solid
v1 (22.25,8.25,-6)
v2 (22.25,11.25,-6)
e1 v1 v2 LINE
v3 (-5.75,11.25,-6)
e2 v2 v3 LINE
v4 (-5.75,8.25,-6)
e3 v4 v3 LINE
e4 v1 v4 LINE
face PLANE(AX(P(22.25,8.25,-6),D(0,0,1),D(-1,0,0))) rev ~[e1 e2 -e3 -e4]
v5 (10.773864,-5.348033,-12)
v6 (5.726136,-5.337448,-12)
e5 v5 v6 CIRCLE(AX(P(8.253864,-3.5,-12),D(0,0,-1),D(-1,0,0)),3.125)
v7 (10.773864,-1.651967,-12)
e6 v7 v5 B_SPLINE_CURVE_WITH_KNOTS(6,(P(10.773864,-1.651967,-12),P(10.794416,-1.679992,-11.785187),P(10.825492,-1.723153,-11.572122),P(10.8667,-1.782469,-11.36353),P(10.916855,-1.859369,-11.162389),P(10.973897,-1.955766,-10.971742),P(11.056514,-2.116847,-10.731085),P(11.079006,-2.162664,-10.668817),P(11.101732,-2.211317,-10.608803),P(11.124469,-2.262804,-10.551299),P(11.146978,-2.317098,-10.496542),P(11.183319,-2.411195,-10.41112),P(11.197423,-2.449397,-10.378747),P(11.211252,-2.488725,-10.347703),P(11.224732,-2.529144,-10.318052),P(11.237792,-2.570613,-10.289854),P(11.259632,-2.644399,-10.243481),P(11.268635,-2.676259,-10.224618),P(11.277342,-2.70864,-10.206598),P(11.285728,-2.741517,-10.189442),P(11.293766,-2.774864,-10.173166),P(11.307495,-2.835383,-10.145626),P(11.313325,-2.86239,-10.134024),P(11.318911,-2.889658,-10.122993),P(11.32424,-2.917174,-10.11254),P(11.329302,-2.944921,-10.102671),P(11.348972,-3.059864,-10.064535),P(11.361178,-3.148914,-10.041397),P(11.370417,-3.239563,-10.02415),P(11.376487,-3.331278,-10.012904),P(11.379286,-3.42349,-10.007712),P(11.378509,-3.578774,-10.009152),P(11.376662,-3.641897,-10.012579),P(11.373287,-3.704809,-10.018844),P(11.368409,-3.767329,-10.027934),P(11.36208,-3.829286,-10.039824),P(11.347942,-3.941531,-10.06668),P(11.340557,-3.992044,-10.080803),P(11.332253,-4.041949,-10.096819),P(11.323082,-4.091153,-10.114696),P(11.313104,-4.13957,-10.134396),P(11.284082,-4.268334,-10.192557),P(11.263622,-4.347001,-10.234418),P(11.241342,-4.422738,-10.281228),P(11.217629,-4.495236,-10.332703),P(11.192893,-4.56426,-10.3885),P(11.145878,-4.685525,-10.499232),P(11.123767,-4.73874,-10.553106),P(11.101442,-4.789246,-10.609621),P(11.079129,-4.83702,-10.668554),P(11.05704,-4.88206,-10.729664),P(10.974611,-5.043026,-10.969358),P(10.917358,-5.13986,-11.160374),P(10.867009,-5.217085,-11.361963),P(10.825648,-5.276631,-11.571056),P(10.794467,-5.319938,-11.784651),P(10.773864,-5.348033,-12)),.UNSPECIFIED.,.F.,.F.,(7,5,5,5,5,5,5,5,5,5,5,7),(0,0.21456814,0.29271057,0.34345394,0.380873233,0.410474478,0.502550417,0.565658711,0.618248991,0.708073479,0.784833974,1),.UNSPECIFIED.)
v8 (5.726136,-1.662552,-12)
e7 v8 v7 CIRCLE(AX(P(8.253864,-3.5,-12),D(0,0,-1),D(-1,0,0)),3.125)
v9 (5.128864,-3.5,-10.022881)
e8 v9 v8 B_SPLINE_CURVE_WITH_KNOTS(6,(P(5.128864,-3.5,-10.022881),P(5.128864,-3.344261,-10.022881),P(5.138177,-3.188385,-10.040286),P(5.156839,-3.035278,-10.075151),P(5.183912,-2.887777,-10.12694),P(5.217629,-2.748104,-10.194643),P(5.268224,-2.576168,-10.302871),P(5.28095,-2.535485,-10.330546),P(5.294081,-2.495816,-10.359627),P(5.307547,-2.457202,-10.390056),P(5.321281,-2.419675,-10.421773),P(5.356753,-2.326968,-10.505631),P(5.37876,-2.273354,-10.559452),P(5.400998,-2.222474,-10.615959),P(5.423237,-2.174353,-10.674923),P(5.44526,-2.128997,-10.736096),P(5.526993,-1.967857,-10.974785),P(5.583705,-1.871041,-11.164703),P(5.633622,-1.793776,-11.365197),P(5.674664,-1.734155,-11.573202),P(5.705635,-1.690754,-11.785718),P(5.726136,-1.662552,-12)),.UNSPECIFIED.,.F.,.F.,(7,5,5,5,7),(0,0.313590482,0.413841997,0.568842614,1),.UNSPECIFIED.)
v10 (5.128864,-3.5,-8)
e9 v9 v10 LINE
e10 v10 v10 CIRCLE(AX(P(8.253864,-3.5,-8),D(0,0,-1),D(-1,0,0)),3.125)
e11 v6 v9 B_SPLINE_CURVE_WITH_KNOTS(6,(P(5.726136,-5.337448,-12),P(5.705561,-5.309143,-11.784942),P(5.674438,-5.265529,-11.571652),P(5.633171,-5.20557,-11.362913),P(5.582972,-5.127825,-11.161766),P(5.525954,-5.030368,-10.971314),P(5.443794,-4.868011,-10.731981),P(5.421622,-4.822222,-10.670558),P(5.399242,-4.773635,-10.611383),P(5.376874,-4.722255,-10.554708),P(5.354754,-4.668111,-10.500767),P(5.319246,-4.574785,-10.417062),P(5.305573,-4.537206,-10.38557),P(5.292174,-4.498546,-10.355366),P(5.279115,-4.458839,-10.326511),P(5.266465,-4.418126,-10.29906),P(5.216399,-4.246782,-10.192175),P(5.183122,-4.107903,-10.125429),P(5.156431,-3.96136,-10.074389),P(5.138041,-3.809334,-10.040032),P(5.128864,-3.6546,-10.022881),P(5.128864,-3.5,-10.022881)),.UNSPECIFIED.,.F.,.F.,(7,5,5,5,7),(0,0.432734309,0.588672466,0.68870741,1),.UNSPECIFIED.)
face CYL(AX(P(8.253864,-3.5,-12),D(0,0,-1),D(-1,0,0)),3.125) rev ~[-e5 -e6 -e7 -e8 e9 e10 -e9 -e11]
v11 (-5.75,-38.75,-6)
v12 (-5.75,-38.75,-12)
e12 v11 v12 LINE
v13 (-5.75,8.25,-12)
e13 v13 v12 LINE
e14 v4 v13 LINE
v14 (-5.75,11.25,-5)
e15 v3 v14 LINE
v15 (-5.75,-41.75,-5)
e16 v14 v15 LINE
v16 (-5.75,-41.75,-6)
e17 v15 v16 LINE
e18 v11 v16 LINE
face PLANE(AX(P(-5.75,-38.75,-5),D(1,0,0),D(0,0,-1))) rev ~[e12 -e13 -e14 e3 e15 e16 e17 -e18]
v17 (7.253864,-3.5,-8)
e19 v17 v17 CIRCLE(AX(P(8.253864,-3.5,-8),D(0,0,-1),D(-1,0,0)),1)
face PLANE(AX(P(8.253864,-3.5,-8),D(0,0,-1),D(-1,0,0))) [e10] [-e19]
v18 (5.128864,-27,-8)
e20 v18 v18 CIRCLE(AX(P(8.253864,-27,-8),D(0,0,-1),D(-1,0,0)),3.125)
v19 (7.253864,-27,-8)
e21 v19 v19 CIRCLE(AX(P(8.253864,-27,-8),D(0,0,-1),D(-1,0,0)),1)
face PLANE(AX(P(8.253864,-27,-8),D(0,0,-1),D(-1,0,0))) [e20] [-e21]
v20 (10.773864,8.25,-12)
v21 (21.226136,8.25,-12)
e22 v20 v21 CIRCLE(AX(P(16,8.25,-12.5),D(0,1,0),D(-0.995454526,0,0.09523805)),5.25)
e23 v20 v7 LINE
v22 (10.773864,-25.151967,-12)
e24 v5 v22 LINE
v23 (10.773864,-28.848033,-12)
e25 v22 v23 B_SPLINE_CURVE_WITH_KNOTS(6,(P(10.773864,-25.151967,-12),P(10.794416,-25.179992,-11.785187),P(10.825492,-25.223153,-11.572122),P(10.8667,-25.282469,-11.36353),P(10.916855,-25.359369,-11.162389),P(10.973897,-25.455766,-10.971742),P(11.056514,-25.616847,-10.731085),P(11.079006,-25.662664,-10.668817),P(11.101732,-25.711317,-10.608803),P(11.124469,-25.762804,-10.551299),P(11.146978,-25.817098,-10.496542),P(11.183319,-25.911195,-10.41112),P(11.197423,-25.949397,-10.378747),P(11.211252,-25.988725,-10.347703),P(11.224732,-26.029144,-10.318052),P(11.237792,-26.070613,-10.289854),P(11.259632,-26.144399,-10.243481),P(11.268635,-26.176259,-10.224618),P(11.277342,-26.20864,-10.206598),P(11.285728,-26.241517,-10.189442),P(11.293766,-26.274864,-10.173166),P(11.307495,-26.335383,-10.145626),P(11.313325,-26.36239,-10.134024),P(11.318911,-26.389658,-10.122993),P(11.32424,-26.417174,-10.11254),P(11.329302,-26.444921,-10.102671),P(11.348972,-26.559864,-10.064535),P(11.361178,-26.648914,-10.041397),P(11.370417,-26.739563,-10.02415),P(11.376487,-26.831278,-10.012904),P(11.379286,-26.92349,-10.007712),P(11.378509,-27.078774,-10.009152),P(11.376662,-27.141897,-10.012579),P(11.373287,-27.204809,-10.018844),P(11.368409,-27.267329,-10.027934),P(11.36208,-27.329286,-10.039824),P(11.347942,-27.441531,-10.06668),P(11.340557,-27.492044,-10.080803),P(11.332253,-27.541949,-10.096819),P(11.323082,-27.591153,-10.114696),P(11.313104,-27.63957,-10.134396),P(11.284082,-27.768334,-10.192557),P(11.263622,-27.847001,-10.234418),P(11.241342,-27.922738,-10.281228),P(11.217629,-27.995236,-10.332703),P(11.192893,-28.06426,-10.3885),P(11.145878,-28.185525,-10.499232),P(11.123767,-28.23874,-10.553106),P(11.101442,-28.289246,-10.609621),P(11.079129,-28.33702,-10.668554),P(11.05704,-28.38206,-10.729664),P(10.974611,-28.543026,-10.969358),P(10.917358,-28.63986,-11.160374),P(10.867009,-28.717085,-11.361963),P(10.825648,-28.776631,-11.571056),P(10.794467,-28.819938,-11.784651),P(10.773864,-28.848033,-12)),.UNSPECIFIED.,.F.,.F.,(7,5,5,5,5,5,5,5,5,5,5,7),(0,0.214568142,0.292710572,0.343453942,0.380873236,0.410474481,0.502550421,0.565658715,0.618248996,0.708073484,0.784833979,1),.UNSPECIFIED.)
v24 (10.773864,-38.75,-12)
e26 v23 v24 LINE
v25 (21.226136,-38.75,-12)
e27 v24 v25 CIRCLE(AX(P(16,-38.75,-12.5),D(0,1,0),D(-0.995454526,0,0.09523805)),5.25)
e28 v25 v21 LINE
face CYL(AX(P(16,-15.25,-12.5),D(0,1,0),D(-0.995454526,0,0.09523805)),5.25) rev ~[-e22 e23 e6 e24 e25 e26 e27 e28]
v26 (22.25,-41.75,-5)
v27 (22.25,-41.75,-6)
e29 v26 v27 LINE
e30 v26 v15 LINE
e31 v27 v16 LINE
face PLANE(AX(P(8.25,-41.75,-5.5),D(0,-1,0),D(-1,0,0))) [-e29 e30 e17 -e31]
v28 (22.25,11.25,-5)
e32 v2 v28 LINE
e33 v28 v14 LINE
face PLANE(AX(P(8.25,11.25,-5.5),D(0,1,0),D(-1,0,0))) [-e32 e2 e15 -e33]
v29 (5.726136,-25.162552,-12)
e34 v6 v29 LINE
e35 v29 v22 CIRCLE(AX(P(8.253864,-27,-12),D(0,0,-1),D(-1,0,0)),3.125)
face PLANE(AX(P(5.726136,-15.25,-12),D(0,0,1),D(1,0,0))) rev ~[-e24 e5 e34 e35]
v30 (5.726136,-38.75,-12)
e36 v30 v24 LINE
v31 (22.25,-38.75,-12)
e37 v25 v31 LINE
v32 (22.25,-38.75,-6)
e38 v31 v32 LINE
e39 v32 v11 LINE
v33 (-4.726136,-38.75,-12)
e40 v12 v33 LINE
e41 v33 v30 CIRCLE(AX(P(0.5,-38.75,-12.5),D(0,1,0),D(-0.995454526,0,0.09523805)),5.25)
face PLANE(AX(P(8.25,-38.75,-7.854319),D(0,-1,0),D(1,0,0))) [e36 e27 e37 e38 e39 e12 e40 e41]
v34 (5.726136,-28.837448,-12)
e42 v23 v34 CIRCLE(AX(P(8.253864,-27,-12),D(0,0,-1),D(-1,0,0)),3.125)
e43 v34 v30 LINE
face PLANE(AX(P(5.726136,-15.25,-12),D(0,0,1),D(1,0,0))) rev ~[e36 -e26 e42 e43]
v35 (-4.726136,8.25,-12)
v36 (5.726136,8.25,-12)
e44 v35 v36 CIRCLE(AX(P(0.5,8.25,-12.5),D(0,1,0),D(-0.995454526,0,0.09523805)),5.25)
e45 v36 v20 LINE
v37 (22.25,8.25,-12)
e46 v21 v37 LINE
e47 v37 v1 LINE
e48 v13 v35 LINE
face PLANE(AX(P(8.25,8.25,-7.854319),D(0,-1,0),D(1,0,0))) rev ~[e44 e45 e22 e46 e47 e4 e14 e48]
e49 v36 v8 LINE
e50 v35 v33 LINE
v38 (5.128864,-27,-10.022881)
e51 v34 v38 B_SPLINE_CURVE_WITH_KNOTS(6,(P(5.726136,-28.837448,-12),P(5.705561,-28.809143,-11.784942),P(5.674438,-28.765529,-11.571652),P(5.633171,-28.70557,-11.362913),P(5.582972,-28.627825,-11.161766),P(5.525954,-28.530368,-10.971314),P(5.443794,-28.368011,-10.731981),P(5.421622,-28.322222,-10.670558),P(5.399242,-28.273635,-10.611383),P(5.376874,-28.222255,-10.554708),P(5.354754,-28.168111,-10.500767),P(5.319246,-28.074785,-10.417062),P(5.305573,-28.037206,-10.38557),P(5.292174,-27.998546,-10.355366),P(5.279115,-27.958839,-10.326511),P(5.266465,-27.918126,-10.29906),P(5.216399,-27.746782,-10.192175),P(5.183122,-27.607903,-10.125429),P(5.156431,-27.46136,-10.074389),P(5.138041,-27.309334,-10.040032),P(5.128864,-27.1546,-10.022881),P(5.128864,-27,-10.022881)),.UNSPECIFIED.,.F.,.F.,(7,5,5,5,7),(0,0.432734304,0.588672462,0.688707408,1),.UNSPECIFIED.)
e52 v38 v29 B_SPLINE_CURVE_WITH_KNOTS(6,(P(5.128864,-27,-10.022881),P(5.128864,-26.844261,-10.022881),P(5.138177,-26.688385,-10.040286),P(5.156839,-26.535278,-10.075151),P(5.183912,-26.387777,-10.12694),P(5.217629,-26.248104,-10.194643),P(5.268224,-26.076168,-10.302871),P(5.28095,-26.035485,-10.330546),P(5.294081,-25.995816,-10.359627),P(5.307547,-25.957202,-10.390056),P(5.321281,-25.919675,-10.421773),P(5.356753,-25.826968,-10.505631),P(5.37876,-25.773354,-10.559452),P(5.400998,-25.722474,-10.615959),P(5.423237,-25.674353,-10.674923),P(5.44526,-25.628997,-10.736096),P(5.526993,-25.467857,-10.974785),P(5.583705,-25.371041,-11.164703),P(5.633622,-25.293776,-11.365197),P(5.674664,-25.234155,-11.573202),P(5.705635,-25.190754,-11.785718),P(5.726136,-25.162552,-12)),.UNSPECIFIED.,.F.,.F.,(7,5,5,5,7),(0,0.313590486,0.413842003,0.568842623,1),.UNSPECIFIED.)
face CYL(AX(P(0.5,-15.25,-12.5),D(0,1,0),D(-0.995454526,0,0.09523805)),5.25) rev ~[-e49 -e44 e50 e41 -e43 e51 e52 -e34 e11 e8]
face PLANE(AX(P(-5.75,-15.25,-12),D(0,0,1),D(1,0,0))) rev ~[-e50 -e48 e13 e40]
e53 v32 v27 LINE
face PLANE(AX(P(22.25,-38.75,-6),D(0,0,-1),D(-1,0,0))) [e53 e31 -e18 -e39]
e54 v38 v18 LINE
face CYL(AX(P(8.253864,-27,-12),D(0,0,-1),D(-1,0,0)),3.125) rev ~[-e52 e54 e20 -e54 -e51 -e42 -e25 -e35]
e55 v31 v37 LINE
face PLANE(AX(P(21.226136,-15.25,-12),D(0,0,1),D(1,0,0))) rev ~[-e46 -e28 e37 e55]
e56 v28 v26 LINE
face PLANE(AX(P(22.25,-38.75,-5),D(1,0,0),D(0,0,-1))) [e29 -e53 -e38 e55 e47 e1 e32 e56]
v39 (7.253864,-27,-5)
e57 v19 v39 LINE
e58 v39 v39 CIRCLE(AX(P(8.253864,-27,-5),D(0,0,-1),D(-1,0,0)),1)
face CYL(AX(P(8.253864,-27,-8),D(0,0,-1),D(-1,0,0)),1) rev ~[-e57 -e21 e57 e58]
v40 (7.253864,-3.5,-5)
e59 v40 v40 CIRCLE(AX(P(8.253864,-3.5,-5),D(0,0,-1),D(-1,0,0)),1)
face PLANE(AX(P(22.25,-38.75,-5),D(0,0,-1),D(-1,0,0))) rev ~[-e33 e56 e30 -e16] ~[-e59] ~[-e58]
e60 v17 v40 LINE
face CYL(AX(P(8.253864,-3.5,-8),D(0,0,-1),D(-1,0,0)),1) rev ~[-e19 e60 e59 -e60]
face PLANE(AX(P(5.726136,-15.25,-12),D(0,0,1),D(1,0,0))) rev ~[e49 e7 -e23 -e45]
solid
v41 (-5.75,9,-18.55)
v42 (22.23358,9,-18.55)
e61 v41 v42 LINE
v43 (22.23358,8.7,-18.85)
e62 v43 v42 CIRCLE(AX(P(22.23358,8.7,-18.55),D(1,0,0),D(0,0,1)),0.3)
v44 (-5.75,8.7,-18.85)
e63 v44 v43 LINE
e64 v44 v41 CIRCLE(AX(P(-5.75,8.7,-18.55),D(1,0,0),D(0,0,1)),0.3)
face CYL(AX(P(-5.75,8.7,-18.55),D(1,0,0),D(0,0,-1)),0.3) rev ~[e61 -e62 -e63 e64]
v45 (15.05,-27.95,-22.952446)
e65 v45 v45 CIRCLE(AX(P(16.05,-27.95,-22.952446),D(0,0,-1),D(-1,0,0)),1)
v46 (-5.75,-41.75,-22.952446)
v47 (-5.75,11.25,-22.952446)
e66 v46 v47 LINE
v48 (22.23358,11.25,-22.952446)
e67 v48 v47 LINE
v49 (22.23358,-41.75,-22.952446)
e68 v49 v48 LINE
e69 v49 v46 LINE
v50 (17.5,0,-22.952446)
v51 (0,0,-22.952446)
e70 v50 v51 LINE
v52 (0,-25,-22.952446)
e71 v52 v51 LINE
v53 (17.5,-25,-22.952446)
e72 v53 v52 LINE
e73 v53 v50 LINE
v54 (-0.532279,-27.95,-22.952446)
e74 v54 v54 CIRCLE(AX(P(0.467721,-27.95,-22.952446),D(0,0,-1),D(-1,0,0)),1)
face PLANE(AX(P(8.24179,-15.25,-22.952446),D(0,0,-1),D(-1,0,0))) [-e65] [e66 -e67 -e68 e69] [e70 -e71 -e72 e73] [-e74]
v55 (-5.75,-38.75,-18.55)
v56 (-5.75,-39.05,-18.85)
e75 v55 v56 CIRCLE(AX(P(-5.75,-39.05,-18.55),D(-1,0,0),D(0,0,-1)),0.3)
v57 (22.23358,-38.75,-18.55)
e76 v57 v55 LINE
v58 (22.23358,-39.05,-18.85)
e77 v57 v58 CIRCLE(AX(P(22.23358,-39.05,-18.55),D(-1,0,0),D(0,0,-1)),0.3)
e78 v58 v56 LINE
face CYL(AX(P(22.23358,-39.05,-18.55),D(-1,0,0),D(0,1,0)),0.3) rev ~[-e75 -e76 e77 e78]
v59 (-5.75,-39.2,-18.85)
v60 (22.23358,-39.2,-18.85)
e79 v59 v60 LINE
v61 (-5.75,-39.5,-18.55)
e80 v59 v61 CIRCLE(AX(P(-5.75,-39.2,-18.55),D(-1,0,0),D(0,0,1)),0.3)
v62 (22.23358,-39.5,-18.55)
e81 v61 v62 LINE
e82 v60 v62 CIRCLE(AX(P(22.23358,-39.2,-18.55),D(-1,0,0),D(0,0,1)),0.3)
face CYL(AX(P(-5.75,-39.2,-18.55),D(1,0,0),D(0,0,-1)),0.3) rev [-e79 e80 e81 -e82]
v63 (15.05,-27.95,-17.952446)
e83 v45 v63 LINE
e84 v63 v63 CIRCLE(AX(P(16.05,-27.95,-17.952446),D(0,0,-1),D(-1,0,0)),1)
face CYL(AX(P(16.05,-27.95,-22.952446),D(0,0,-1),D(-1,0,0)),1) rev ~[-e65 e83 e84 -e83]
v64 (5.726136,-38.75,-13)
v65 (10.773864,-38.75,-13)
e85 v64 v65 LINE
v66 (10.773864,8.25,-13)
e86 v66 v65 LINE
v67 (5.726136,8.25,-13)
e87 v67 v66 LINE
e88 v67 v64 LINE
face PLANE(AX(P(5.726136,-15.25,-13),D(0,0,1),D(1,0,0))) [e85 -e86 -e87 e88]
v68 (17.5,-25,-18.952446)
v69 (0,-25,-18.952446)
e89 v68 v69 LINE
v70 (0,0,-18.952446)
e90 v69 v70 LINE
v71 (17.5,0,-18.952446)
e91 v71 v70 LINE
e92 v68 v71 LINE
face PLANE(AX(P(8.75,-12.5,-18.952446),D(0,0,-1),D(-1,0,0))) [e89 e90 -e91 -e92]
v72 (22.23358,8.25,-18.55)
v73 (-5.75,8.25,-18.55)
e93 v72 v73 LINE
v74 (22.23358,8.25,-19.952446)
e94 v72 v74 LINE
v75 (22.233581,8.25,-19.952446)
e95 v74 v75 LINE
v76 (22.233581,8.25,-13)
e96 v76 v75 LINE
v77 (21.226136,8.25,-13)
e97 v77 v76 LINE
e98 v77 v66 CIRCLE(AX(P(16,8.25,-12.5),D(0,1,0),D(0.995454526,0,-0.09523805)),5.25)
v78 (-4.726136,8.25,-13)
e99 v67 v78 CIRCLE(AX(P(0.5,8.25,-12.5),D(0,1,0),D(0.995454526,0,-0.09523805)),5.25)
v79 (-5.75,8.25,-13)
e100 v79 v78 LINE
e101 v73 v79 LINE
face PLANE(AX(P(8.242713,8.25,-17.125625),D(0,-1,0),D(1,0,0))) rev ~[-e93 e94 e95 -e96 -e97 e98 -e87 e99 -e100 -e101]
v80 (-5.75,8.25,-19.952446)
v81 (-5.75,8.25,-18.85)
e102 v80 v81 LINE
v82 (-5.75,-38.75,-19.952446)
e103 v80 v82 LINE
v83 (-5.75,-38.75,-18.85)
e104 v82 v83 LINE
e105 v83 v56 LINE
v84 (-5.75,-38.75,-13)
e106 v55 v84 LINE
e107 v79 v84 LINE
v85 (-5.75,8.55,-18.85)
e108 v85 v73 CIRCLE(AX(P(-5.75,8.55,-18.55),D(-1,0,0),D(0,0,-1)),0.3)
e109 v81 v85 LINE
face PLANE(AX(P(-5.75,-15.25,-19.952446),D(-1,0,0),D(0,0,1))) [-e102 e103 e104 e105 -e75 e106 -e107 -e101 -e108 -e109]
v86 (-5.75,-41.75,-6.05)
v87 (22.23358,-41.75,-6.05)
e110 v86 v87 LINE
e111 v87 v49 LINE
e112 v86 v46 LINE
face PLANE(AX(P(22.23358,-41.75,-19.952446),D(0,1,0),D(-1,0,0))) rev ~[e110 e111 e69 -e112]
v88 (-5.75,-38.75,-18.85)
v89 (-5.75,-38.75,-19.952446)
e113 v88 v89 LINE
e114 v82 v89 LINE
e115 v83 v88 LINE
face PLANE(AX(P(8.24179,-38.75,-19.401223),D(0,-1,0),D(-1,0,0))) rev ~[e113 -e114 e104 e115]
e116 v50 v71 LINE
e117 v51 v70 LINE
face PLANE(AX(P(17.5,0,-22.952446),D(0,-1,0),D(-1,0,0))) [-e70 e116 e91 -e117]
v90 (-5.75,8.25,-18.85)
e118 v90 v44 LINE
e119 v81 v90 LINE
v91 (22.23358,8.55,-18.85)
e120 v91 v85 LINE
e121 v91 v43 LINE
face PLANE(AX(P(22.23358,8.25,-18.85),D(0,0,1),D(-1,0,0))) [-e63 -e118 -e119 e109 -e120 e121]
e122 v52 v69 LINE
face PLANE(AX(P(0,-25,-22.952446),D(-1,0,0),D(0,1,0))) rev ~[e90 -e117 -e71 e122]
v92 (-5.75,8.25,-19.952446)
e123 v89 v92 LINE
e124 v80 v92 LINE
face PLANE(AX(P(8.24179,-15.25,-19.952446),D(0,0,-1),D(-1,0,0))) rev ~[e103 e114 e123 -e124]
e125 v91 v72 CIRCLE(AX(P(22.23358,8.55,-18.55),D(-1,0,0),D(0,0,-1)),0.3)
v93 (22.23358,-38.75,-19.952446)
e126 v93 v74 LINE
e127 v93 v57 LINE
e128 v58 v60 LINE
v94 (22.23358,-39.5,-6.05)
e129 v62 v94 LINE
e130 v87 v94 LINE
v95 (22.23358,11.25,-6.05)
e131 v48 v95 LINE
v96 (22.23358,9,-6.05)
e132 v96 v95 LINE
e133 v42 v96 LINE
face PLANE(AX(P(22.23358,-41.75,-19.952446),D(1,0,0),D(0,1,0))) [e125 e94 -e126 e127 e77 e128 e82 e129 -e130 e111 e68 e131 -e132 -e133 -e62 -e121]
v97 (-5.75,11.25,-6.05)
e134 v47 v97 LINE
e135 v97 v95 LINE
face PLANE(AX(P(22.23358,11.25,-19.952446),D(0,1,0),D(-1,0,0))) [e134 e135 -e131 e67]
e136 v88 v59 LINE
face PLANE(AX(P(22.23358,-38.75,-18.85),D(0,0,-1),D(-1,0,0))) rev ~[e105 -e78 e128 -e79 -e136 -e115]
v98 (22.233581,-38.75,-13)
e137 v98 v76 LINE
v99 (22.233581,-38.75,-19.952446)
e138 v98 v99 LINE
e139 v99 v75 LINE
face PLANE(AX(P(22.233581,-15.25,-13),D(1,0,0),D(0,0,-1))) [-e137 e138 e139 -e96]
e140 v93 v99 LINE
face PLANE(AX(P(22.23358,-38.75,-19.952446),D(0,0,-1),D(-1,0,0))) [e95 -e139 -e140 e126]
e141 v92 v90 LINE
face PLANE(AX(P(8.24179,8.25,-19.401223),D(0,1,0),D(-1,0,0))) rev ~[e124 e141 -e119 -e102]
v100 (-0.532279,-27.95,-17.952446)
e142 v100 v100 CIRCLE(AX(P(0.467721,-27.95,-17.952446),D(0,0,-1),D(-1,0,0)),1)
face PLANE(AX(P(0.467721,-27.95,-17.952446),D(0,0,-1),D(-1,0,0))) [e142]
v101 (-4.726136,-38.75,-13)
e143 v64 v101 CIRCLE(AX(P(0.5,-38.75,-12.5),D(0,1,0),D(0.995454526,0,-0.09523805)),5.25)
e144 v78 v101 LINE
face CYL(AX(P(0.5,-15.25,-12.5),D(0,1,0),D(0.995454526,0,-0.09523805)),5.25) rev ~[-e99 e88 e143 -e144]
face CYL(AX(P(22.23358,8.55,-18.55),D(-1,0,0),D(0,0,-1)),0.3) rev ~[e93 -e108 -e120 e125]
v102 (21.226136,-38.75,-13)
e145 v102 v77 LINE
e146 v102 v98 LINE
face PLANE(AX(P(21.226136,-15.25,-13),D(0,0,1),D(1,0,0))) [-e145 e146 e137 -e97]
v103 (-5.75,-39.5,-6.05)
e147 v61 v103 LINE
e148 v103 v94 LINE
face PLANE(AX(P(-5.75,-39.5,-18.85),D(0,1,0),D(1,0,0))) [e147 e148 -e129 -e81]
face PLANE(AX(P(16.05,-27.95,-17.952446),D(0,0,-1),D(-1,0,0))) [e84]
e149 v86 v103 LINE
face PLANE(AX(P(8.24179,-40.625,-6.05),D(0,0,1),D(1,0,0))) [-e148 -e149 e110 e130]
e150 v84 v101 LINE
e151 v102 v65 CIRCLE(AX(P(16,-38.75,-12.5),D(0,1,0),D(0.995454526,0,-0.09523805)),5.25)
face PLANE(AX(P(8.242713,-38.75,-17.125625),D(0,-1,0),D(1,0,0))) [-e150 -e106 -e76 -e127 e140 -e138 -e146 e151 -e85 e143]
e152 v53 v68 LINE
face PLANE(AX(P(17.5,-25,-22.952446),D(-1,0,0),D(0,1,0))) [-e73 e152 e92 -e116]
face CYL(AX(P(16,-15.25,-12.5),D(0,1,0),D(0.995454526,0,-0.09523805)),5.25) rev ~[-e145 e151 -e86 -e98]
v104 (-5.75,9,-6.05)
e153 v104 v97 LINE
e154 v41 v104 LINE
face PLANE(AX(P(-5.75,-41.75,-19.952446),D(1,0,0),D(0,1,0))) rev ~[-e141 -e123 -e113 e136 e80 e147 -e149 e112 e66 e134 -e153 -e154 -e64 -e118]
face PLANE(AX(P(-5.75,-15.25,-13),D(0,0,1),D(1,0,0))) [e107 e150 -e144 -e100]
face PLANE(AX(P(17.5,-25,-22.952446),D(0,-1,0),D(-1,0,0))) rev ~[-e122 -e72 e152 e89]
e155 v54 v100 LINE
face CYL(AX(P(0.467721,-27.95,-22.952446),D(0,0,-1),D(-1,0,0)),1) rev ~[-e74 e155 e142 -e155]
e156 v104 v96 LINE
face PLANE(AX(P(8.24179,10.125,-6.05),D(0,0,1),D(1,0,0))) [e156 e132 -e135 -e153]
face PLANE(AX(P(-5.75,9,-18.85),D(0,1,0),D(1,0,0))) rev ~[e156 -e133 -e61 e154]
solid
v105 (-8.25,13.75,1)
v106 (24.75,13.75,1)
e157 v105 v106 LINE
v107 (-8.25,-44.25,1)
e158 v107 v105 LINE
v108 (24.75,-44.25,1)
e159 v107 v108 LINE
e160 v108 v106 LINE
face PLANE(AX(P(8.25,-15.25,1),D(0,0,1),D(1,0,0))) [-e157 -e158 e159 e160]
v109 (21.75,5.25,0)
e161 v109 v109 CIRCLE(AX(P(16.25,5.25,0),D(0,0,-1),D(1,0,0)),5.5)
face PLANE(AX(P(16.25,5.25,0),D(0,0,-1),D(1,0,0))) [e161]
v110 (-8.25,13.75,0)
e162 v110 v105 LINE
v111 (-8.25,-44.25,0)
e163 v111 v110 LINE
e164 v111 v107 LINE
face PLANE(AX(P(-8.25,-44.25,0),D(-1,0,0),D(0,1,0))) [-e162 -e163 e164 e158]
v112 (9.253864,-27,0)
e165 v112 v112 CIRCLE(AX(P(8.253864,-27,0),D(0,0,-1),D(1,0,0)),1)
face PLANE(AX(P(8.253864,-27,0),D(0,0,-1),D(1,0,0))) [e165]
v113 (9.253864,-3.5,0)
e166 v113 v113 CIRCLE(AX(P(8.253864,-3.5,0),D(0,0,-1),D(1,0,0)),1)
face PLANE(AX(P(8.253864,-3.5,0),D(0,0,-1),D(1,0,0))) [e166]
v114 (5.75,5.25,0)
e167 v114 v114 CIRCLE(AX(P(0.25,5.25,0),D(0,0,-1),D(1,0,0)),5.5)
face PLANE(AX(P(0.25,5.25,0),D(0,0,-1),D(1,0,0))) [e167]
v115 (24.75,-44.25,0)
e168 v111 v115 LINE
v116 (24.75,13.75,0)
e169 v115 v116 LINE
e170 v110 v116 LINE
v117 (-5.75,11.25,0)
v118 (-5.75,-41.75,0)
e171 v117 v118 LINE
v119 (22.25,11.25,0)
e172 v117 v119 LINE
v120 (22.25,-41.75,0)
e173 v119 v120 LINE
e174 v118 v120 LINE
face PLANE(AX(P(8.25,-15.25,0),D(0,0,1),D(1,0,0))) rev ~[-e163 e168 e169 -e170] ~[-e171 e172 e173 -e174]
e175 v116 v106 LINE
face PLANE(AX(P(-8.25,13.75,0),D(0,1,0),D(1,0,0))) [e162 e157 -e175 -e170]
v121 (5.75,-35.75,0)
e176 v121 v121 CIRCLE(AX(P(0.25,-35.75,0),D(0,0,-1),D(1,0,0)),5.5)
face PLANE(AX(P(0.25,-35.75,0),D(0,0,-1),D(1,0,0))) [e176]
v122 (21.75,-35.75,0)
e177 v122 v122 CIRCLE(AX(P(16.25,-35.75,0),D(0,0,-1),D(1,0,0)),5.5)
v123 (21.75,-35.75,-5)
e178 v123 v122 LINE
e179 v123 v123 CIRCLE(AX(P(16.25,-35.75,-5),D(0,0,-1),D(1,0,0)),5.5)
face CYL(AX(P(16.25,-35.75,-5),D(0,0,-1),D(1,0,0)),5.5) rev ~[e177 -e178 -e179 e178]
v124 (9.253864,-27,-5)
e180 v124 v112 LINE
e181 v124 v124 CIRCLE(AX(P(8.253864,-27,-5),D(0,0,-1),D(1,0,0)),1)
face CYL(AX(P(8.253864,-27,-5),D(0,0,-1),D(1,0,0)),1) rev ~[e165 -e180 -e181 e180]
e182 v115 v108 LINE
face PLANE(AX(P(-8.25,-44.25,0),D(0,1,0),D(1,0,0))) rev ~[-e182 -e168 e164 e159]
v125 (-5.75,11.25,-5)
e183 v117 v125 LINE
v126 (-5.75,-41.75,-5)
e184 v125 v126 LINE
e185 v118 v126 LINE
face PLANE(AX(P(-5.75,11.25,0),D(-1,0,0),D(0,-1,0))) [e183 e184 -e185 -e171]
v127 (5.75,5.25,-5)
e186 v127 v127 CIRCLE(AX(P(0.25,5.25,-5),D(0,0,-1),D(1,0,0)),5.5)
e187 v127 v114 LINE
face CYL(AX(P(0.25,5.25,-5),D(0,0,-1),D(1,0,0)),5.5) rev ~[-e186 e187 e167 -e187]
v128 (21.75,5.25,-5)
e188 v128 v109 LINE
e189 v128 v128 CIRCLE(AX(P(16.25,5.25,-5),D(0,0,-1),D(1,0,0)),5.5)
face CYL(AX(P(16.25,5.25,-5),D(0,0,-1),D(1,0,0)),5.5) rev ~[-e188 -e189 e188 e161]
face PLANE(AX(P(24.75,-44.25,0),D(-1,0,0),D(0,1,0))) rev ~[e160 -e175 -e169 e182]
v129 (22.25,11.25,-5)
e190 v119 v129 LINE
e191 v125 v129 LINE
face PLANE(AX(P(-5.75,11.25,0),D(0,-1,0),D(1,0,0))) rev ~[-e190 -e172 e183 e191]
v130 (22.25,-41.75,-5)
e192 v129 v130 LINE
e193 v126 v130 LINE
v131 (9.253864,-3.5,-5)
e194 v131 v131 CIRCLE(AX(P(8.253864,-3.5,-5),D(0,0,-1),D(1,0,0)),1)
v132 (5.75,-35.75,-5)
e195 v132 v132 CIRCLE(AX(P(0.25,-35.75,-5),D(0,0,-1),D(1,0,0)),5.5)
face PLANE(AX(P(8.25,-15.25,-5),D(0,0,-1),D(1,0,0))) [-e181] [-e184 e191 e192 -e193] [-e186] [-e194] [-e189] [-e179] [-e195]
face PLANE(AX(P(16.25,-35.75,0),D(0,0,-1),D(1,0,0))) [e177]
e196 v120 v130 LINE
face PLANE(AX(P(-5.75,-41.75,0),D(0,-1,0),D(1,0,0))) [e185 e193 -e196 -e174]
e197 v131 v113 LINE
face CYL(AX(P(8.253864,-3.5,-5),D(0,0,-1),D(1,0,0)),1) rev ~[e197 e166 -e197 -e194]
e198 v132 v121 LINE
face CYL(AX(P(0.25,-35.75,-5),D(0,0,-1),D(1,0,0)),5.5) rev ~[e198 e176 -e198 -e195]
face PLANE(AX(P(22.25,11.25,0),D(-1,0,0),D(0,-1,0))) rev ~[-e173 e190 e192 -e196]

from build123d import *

# Parameters (mm, degrees)
SKETCH001_W     = 33
SKETCH001_H     = 58
PAD_DEPTH       = 1
SKETCH002_W     = 28
SKETCH002_H     = 53
PAD001_DEPTH    = 5
SKETCH003_R     = 5.5
POCKET_DEPTH    = 5
SKETCH015_R     = 1
POCKET003_DEPTH = 5
PAD002_DEPTH    = 23.5
SKETCH005_W     = 28
SKETCH005_H     = 1
PAD003_DEPTH    = 3
SKETCH012_W     = 28
SKETCH012_H     = 1
PAD009_DEPTH    = 3
SKETCH013_R     = 3.125
POCKET001_DEPTH = 4
SKETCH014_R     = 1
POCKET002_DEPTH = 5
PAD004_DEPTH    = 23.5
SKETCH008_W     = 27.983581
SKETCH008_H     = 1.102446
PAD005_DEPTH    = 3
SKETCH009_W     = 27.983581
SKETCH009_H     = 2.25
PAD006_DEPTH    = 12.8
FILLET_R        = 0.3
SKETCH010_W     = 27.983581
SKETCH010_H     = 1.102446
PAD007_DEPTH    = 3
SKETCH011_W     = 27.983581
SKETCH011_H     = 2.25
PAD008_DEPTH    = 12.8
FILLET001_R     = 0.3
SKETCH018_W     = 27.983581
SKETCH018_H     = 53
PAD010_DEPTH    = 3
SKETCH019_W     = 17.5
SKETCH019_H     = 25
POCKET004_DEPTH = 4
SKETCH020_R     = 1
POCKET005_DEPTH = 5


with BuildPart() as base:
    # Sketch001 → Pad (new body)
    with BuildSketch(Plane.XY):
        with Locations((8.25, -15.25)):
            Rectangle(SKETCH001_W, SKETCH001_H)
    extrude(amount=PAD_DEPTH)

    # Sketch002 (on Face5 of Pad) → Pad001 (join)
    with BuildSketch(Plane(origin=(0, 0, 0), x_dir=(1, 0, 0), z_dir=(0, 0, -1))):
        with Locations((8.25, 15.25)):
            Rectangle(SKETCH002_W, SKETCH002_H)
    extrude(amount=PAD001_DEPTH)

    # Sketch003 (on Face11 of Pad001) → Pocket (cut)
    with BuildSketch(Plane(origin=(0, 0, -5), x_dir=(1, 0, 0), z_dir=(0, 0, -1))):
        with Locations((0.25, 35.75)):
            Circle(SKETCH003_R)
        with Locations((16.25, 35.75)):
            Circle(SKETCH003_R)
        with Locations((0.25, -5.25)):
            Circle(SKETCH003_R)
        with Locations((16.25, -5.25)):
            Circle(SKETCH003_R)
    extrude(amount=-POCKET_DEPTH, mode=Mode.SUBTRACT)

    # Sketch015 (on Face11 of Pocket) → Pocket003 (cut)
    with BuildSketch(Plane(origin=(0, 0, -5), x_dir=(1, 0, 0), z_dir=(0, 0, -1))):
        with Locations((8.253864, 3.5)):
            Circle(SKETCH015_R)
        with Locations((8.253864, 27)):
            Circle(SKETCH015_R)
    extrude(amount=-POCKET003_DEPTH, mode=Mode.SUBTRACT)


with BuildPart() as battery:
    # Sketch004 (on DatumPlane) → Pad002 (new body, symmetric)
    with BuildSketch(Plane(origin=(0, -15.25, 0), x_dir=(-1, 0, 0), z_dir=(0, 1, 0))):
        with BuildLine():
            Line((-22.25, -5), (5.75, -5))
            Line((5.75, -5), (5.75, -12))
            Line((5.75, -12), (4.726136, -12))
            ThreePointArc((4.726136, -12), (-0.5, -7.25), (-5.726136, -12))
            Line((-5.726136, -12), (-10.773864, -12))
            ThreePointArc((-10.773864, -12), (-16, -7.25), (-21.226136, -12))
            Line((-21.226136, -12), (-22.25, -12))
            Line((-22.25, -12), (-22.25, -5))
        make_face()
    extrude(amount=PAD002_DEPTH, both=True)

    # Sketch005 (on Face10 of Pad002) → Pad003 (join)
    with BuildSketch(Plane(origin=(0, 8.25, 0), x_dir=(-1, 0, 0), z_dir=(0, 1, 0))):
        with Locations((-8.25, -5.5)):
            Rectangle(SKETCH005_W, SKETCH005_H)
    extrude(amount=PAD003_DEPTH)

    # Sketch012 (on Face4 of Pad003) → Pad009 (join)
    with BuildSketch(Plane(origin=(0, -38.75, 0), x_dir=(-1, 0, 0), z_dir=(0, -1, 0))):
        with Locations((-8.25, 5.5)):
            Rectangle(SKETCH012_W, SKETCH012_H)
    extrude(amount=PAD009_DEPTH)

    # Sketch013 (on Face17 of Pad009) → Pocket001 (cut)
    with BuildSketch(Plane(origin=(0, -15.25, -12), x_dir=(-1, 0, 0), z_dir=(0, 0, -1))):
        with Locations((-8.253864, 11.75)):
            Circle(SKETCH013_R)
        with Locations((-8.253864, -11.75)):
            Circle(SKETCH013_R)
    extrude(amount=-POCKET001_DEPTH, mode=Mode.SUBTRACT)

    # Sketch014 (on Face26 of Pocket001) → Pocket002 (cut)
    with BuildSketch(Plane(origin=(0, -15.25, -8), x_dir=(-1, 0, 0), z_dir=(0, 0, -1))):
        with Locations((-8.253864, 11.75)):
            Circle(SKETCH014_R)
        with Locations((-8.253864, -11.75)):
            Circle(SKETCH014_R)
    extrude(amount=-POCKET002_DEPTH, mode=Mode.SUBTRACT)


with BuildPart() as body002:
    # Sketch007 (on DatumPlane) → Pad004 (new body, symmetric)
    with BuildSketch(Plane(origin=(0, -15.25, 0), x_dir=(-1, 0, 0), z_dir=(0, 1, 0))):
        with BuildLine():
            ThreePointArc((-21.226136, -13), (-16, -17.75), (-10.773864, -13))
            Line((-5.726136, -13), (-10.773864, -13))
            ThreePointArc((-5.726136, -13), (-0.5, -17.75), (4.726136, -13))
            Line((5.75, -13), (4.726136, -13))
            Line((5.75, -17.924353), (5.75, -13))
            Line((5.75, -17.924353), (5.75, -19.952446))
            Line((5.75, -19.952446), (-22.233581, -19.952446))
            Line((-22.233581, -19.952446), (-22.233581, -17.75))
            Line((-22.233581, -13), (-22.233581, -17.75))
            Line((-21.226136, -13), (-22.233581, -13))
        make_face()
    extrude(amount=PAD004_DEPTH, both=True)

    # Sketch008 (on Face12 of Pad004) → Pad005 (join)
    with BuildSketch(Plane(origin=(0, 8.25, 0), x_dir=(-1, 0, 0), z_dir=(0, 1, 0))):
        with Locations((-8.24179, -19.401223)):
            Rectangle(SKETCH008_W, SKETCH008_H)
    extrude(amount=PAD005_DEPTH)

    # Sketch009 (on Face13 of Pad005) → Pad006 (join)
    with BuildSketch(Plane(origin=(0, -15.25, -18.85), x_dir=(1, 0, 0), z_dir=(0, 0, 1))):
        with Locations((8.24179, 25.375)):
            Rectangle(SKETCH009_W, SKETCH009_H)
    extrude(amount=PAD006_DEPTH)

    # Fillet
    fillet_edges = [body002.edges().sort_by_distance(p)[0] for p in [
        (8.241791, 8.25, -18.85),
        (8.241791, 9, -18.85),
    ]]
    fillet(fillet_edges, radius=FILLET_R)

    # Sketch010 (on Face13 of Fillet) → Pad007 (join)
    with BuildSketch(Plane(origin=(0, -38.75, 0), x_dir=(-1, 0, 0), z_dir=(0, -1, 0))):
        with Locations((-8.24179, 19.401223)):
            Rectangle(SKETCH010_W, SKETCH010_H)
    extrude(amount=PAD007_DEPTH)

    # Sketch011 (on Face22 of Pad007) → Pad008 (join)
    with BuildSketch(Plane(origin=(0, -15.25, -18.85), x_dir=(1, 0, 0), z_dir=(0, 0, 1))):
        with Locations((8.24179, -25.375)):
            Rectangle(SKETCH011_W, SKETCH011_H)
    extrude(amount=PAD008_DEPTH)

    # Fillet001
    fillet001_edges = [body002.edges().sort_by_distance(p)[0] for p in [
        (8.241791, -39.5, -18.85),
        (8.241791, -38.75, -18.85),
    ]]
    fillet(fillet001_edges, radius=FILLET001_R)

    # Sketch018 (on Face6 of Fillet001) → Pad010 (join)
    with BuildSketch(Plane(origin=(0, -15.25, -19.952446), x_dir=(-1, 0, 0), z_dir=(0, 0, -1))):
        with Locations((-8.24179, 0)):
            Rectangle(SKETCH018_W, SKETCH018_H)
    extrude(amount=PAD010_DEPTH)

    # Sketch019 (on Face22 of Pad010) → Pocket004 (cut)
    with BuildSketch(Plane(origin=(0, -15.25, -22.952446), x_dir=(-1, 0, 0), z_dir=(0, 0, -1))):
        with Locations((-8.75, 2.75)):
            Rectangle(SKETCH019_W, SKETCH019_H)
    extrude(amount=-POCKET004_DEPTH, mode=Mode.SUBTRACT)

    # Sketch020 (on Face22 of Pocket004) → Pocket005 (cut)
    with BuildSketch(Plane(origin=(0, -15.25, -22.952446), x_dir=(-1, 0, 0), z_dir=(0, 0, -1))):
        with Locations((-16.05, -12.7)):
            Circle(SKETCH020_R)
        with Locations((-0.467721, -12.7)):
            Circle(SKETCH020_R)
    extrude(amount=-POCKET005_DEPTH, mode=Mode.SUBTRACT)


solid = Compound([base.part, battery.part, body002.part])
